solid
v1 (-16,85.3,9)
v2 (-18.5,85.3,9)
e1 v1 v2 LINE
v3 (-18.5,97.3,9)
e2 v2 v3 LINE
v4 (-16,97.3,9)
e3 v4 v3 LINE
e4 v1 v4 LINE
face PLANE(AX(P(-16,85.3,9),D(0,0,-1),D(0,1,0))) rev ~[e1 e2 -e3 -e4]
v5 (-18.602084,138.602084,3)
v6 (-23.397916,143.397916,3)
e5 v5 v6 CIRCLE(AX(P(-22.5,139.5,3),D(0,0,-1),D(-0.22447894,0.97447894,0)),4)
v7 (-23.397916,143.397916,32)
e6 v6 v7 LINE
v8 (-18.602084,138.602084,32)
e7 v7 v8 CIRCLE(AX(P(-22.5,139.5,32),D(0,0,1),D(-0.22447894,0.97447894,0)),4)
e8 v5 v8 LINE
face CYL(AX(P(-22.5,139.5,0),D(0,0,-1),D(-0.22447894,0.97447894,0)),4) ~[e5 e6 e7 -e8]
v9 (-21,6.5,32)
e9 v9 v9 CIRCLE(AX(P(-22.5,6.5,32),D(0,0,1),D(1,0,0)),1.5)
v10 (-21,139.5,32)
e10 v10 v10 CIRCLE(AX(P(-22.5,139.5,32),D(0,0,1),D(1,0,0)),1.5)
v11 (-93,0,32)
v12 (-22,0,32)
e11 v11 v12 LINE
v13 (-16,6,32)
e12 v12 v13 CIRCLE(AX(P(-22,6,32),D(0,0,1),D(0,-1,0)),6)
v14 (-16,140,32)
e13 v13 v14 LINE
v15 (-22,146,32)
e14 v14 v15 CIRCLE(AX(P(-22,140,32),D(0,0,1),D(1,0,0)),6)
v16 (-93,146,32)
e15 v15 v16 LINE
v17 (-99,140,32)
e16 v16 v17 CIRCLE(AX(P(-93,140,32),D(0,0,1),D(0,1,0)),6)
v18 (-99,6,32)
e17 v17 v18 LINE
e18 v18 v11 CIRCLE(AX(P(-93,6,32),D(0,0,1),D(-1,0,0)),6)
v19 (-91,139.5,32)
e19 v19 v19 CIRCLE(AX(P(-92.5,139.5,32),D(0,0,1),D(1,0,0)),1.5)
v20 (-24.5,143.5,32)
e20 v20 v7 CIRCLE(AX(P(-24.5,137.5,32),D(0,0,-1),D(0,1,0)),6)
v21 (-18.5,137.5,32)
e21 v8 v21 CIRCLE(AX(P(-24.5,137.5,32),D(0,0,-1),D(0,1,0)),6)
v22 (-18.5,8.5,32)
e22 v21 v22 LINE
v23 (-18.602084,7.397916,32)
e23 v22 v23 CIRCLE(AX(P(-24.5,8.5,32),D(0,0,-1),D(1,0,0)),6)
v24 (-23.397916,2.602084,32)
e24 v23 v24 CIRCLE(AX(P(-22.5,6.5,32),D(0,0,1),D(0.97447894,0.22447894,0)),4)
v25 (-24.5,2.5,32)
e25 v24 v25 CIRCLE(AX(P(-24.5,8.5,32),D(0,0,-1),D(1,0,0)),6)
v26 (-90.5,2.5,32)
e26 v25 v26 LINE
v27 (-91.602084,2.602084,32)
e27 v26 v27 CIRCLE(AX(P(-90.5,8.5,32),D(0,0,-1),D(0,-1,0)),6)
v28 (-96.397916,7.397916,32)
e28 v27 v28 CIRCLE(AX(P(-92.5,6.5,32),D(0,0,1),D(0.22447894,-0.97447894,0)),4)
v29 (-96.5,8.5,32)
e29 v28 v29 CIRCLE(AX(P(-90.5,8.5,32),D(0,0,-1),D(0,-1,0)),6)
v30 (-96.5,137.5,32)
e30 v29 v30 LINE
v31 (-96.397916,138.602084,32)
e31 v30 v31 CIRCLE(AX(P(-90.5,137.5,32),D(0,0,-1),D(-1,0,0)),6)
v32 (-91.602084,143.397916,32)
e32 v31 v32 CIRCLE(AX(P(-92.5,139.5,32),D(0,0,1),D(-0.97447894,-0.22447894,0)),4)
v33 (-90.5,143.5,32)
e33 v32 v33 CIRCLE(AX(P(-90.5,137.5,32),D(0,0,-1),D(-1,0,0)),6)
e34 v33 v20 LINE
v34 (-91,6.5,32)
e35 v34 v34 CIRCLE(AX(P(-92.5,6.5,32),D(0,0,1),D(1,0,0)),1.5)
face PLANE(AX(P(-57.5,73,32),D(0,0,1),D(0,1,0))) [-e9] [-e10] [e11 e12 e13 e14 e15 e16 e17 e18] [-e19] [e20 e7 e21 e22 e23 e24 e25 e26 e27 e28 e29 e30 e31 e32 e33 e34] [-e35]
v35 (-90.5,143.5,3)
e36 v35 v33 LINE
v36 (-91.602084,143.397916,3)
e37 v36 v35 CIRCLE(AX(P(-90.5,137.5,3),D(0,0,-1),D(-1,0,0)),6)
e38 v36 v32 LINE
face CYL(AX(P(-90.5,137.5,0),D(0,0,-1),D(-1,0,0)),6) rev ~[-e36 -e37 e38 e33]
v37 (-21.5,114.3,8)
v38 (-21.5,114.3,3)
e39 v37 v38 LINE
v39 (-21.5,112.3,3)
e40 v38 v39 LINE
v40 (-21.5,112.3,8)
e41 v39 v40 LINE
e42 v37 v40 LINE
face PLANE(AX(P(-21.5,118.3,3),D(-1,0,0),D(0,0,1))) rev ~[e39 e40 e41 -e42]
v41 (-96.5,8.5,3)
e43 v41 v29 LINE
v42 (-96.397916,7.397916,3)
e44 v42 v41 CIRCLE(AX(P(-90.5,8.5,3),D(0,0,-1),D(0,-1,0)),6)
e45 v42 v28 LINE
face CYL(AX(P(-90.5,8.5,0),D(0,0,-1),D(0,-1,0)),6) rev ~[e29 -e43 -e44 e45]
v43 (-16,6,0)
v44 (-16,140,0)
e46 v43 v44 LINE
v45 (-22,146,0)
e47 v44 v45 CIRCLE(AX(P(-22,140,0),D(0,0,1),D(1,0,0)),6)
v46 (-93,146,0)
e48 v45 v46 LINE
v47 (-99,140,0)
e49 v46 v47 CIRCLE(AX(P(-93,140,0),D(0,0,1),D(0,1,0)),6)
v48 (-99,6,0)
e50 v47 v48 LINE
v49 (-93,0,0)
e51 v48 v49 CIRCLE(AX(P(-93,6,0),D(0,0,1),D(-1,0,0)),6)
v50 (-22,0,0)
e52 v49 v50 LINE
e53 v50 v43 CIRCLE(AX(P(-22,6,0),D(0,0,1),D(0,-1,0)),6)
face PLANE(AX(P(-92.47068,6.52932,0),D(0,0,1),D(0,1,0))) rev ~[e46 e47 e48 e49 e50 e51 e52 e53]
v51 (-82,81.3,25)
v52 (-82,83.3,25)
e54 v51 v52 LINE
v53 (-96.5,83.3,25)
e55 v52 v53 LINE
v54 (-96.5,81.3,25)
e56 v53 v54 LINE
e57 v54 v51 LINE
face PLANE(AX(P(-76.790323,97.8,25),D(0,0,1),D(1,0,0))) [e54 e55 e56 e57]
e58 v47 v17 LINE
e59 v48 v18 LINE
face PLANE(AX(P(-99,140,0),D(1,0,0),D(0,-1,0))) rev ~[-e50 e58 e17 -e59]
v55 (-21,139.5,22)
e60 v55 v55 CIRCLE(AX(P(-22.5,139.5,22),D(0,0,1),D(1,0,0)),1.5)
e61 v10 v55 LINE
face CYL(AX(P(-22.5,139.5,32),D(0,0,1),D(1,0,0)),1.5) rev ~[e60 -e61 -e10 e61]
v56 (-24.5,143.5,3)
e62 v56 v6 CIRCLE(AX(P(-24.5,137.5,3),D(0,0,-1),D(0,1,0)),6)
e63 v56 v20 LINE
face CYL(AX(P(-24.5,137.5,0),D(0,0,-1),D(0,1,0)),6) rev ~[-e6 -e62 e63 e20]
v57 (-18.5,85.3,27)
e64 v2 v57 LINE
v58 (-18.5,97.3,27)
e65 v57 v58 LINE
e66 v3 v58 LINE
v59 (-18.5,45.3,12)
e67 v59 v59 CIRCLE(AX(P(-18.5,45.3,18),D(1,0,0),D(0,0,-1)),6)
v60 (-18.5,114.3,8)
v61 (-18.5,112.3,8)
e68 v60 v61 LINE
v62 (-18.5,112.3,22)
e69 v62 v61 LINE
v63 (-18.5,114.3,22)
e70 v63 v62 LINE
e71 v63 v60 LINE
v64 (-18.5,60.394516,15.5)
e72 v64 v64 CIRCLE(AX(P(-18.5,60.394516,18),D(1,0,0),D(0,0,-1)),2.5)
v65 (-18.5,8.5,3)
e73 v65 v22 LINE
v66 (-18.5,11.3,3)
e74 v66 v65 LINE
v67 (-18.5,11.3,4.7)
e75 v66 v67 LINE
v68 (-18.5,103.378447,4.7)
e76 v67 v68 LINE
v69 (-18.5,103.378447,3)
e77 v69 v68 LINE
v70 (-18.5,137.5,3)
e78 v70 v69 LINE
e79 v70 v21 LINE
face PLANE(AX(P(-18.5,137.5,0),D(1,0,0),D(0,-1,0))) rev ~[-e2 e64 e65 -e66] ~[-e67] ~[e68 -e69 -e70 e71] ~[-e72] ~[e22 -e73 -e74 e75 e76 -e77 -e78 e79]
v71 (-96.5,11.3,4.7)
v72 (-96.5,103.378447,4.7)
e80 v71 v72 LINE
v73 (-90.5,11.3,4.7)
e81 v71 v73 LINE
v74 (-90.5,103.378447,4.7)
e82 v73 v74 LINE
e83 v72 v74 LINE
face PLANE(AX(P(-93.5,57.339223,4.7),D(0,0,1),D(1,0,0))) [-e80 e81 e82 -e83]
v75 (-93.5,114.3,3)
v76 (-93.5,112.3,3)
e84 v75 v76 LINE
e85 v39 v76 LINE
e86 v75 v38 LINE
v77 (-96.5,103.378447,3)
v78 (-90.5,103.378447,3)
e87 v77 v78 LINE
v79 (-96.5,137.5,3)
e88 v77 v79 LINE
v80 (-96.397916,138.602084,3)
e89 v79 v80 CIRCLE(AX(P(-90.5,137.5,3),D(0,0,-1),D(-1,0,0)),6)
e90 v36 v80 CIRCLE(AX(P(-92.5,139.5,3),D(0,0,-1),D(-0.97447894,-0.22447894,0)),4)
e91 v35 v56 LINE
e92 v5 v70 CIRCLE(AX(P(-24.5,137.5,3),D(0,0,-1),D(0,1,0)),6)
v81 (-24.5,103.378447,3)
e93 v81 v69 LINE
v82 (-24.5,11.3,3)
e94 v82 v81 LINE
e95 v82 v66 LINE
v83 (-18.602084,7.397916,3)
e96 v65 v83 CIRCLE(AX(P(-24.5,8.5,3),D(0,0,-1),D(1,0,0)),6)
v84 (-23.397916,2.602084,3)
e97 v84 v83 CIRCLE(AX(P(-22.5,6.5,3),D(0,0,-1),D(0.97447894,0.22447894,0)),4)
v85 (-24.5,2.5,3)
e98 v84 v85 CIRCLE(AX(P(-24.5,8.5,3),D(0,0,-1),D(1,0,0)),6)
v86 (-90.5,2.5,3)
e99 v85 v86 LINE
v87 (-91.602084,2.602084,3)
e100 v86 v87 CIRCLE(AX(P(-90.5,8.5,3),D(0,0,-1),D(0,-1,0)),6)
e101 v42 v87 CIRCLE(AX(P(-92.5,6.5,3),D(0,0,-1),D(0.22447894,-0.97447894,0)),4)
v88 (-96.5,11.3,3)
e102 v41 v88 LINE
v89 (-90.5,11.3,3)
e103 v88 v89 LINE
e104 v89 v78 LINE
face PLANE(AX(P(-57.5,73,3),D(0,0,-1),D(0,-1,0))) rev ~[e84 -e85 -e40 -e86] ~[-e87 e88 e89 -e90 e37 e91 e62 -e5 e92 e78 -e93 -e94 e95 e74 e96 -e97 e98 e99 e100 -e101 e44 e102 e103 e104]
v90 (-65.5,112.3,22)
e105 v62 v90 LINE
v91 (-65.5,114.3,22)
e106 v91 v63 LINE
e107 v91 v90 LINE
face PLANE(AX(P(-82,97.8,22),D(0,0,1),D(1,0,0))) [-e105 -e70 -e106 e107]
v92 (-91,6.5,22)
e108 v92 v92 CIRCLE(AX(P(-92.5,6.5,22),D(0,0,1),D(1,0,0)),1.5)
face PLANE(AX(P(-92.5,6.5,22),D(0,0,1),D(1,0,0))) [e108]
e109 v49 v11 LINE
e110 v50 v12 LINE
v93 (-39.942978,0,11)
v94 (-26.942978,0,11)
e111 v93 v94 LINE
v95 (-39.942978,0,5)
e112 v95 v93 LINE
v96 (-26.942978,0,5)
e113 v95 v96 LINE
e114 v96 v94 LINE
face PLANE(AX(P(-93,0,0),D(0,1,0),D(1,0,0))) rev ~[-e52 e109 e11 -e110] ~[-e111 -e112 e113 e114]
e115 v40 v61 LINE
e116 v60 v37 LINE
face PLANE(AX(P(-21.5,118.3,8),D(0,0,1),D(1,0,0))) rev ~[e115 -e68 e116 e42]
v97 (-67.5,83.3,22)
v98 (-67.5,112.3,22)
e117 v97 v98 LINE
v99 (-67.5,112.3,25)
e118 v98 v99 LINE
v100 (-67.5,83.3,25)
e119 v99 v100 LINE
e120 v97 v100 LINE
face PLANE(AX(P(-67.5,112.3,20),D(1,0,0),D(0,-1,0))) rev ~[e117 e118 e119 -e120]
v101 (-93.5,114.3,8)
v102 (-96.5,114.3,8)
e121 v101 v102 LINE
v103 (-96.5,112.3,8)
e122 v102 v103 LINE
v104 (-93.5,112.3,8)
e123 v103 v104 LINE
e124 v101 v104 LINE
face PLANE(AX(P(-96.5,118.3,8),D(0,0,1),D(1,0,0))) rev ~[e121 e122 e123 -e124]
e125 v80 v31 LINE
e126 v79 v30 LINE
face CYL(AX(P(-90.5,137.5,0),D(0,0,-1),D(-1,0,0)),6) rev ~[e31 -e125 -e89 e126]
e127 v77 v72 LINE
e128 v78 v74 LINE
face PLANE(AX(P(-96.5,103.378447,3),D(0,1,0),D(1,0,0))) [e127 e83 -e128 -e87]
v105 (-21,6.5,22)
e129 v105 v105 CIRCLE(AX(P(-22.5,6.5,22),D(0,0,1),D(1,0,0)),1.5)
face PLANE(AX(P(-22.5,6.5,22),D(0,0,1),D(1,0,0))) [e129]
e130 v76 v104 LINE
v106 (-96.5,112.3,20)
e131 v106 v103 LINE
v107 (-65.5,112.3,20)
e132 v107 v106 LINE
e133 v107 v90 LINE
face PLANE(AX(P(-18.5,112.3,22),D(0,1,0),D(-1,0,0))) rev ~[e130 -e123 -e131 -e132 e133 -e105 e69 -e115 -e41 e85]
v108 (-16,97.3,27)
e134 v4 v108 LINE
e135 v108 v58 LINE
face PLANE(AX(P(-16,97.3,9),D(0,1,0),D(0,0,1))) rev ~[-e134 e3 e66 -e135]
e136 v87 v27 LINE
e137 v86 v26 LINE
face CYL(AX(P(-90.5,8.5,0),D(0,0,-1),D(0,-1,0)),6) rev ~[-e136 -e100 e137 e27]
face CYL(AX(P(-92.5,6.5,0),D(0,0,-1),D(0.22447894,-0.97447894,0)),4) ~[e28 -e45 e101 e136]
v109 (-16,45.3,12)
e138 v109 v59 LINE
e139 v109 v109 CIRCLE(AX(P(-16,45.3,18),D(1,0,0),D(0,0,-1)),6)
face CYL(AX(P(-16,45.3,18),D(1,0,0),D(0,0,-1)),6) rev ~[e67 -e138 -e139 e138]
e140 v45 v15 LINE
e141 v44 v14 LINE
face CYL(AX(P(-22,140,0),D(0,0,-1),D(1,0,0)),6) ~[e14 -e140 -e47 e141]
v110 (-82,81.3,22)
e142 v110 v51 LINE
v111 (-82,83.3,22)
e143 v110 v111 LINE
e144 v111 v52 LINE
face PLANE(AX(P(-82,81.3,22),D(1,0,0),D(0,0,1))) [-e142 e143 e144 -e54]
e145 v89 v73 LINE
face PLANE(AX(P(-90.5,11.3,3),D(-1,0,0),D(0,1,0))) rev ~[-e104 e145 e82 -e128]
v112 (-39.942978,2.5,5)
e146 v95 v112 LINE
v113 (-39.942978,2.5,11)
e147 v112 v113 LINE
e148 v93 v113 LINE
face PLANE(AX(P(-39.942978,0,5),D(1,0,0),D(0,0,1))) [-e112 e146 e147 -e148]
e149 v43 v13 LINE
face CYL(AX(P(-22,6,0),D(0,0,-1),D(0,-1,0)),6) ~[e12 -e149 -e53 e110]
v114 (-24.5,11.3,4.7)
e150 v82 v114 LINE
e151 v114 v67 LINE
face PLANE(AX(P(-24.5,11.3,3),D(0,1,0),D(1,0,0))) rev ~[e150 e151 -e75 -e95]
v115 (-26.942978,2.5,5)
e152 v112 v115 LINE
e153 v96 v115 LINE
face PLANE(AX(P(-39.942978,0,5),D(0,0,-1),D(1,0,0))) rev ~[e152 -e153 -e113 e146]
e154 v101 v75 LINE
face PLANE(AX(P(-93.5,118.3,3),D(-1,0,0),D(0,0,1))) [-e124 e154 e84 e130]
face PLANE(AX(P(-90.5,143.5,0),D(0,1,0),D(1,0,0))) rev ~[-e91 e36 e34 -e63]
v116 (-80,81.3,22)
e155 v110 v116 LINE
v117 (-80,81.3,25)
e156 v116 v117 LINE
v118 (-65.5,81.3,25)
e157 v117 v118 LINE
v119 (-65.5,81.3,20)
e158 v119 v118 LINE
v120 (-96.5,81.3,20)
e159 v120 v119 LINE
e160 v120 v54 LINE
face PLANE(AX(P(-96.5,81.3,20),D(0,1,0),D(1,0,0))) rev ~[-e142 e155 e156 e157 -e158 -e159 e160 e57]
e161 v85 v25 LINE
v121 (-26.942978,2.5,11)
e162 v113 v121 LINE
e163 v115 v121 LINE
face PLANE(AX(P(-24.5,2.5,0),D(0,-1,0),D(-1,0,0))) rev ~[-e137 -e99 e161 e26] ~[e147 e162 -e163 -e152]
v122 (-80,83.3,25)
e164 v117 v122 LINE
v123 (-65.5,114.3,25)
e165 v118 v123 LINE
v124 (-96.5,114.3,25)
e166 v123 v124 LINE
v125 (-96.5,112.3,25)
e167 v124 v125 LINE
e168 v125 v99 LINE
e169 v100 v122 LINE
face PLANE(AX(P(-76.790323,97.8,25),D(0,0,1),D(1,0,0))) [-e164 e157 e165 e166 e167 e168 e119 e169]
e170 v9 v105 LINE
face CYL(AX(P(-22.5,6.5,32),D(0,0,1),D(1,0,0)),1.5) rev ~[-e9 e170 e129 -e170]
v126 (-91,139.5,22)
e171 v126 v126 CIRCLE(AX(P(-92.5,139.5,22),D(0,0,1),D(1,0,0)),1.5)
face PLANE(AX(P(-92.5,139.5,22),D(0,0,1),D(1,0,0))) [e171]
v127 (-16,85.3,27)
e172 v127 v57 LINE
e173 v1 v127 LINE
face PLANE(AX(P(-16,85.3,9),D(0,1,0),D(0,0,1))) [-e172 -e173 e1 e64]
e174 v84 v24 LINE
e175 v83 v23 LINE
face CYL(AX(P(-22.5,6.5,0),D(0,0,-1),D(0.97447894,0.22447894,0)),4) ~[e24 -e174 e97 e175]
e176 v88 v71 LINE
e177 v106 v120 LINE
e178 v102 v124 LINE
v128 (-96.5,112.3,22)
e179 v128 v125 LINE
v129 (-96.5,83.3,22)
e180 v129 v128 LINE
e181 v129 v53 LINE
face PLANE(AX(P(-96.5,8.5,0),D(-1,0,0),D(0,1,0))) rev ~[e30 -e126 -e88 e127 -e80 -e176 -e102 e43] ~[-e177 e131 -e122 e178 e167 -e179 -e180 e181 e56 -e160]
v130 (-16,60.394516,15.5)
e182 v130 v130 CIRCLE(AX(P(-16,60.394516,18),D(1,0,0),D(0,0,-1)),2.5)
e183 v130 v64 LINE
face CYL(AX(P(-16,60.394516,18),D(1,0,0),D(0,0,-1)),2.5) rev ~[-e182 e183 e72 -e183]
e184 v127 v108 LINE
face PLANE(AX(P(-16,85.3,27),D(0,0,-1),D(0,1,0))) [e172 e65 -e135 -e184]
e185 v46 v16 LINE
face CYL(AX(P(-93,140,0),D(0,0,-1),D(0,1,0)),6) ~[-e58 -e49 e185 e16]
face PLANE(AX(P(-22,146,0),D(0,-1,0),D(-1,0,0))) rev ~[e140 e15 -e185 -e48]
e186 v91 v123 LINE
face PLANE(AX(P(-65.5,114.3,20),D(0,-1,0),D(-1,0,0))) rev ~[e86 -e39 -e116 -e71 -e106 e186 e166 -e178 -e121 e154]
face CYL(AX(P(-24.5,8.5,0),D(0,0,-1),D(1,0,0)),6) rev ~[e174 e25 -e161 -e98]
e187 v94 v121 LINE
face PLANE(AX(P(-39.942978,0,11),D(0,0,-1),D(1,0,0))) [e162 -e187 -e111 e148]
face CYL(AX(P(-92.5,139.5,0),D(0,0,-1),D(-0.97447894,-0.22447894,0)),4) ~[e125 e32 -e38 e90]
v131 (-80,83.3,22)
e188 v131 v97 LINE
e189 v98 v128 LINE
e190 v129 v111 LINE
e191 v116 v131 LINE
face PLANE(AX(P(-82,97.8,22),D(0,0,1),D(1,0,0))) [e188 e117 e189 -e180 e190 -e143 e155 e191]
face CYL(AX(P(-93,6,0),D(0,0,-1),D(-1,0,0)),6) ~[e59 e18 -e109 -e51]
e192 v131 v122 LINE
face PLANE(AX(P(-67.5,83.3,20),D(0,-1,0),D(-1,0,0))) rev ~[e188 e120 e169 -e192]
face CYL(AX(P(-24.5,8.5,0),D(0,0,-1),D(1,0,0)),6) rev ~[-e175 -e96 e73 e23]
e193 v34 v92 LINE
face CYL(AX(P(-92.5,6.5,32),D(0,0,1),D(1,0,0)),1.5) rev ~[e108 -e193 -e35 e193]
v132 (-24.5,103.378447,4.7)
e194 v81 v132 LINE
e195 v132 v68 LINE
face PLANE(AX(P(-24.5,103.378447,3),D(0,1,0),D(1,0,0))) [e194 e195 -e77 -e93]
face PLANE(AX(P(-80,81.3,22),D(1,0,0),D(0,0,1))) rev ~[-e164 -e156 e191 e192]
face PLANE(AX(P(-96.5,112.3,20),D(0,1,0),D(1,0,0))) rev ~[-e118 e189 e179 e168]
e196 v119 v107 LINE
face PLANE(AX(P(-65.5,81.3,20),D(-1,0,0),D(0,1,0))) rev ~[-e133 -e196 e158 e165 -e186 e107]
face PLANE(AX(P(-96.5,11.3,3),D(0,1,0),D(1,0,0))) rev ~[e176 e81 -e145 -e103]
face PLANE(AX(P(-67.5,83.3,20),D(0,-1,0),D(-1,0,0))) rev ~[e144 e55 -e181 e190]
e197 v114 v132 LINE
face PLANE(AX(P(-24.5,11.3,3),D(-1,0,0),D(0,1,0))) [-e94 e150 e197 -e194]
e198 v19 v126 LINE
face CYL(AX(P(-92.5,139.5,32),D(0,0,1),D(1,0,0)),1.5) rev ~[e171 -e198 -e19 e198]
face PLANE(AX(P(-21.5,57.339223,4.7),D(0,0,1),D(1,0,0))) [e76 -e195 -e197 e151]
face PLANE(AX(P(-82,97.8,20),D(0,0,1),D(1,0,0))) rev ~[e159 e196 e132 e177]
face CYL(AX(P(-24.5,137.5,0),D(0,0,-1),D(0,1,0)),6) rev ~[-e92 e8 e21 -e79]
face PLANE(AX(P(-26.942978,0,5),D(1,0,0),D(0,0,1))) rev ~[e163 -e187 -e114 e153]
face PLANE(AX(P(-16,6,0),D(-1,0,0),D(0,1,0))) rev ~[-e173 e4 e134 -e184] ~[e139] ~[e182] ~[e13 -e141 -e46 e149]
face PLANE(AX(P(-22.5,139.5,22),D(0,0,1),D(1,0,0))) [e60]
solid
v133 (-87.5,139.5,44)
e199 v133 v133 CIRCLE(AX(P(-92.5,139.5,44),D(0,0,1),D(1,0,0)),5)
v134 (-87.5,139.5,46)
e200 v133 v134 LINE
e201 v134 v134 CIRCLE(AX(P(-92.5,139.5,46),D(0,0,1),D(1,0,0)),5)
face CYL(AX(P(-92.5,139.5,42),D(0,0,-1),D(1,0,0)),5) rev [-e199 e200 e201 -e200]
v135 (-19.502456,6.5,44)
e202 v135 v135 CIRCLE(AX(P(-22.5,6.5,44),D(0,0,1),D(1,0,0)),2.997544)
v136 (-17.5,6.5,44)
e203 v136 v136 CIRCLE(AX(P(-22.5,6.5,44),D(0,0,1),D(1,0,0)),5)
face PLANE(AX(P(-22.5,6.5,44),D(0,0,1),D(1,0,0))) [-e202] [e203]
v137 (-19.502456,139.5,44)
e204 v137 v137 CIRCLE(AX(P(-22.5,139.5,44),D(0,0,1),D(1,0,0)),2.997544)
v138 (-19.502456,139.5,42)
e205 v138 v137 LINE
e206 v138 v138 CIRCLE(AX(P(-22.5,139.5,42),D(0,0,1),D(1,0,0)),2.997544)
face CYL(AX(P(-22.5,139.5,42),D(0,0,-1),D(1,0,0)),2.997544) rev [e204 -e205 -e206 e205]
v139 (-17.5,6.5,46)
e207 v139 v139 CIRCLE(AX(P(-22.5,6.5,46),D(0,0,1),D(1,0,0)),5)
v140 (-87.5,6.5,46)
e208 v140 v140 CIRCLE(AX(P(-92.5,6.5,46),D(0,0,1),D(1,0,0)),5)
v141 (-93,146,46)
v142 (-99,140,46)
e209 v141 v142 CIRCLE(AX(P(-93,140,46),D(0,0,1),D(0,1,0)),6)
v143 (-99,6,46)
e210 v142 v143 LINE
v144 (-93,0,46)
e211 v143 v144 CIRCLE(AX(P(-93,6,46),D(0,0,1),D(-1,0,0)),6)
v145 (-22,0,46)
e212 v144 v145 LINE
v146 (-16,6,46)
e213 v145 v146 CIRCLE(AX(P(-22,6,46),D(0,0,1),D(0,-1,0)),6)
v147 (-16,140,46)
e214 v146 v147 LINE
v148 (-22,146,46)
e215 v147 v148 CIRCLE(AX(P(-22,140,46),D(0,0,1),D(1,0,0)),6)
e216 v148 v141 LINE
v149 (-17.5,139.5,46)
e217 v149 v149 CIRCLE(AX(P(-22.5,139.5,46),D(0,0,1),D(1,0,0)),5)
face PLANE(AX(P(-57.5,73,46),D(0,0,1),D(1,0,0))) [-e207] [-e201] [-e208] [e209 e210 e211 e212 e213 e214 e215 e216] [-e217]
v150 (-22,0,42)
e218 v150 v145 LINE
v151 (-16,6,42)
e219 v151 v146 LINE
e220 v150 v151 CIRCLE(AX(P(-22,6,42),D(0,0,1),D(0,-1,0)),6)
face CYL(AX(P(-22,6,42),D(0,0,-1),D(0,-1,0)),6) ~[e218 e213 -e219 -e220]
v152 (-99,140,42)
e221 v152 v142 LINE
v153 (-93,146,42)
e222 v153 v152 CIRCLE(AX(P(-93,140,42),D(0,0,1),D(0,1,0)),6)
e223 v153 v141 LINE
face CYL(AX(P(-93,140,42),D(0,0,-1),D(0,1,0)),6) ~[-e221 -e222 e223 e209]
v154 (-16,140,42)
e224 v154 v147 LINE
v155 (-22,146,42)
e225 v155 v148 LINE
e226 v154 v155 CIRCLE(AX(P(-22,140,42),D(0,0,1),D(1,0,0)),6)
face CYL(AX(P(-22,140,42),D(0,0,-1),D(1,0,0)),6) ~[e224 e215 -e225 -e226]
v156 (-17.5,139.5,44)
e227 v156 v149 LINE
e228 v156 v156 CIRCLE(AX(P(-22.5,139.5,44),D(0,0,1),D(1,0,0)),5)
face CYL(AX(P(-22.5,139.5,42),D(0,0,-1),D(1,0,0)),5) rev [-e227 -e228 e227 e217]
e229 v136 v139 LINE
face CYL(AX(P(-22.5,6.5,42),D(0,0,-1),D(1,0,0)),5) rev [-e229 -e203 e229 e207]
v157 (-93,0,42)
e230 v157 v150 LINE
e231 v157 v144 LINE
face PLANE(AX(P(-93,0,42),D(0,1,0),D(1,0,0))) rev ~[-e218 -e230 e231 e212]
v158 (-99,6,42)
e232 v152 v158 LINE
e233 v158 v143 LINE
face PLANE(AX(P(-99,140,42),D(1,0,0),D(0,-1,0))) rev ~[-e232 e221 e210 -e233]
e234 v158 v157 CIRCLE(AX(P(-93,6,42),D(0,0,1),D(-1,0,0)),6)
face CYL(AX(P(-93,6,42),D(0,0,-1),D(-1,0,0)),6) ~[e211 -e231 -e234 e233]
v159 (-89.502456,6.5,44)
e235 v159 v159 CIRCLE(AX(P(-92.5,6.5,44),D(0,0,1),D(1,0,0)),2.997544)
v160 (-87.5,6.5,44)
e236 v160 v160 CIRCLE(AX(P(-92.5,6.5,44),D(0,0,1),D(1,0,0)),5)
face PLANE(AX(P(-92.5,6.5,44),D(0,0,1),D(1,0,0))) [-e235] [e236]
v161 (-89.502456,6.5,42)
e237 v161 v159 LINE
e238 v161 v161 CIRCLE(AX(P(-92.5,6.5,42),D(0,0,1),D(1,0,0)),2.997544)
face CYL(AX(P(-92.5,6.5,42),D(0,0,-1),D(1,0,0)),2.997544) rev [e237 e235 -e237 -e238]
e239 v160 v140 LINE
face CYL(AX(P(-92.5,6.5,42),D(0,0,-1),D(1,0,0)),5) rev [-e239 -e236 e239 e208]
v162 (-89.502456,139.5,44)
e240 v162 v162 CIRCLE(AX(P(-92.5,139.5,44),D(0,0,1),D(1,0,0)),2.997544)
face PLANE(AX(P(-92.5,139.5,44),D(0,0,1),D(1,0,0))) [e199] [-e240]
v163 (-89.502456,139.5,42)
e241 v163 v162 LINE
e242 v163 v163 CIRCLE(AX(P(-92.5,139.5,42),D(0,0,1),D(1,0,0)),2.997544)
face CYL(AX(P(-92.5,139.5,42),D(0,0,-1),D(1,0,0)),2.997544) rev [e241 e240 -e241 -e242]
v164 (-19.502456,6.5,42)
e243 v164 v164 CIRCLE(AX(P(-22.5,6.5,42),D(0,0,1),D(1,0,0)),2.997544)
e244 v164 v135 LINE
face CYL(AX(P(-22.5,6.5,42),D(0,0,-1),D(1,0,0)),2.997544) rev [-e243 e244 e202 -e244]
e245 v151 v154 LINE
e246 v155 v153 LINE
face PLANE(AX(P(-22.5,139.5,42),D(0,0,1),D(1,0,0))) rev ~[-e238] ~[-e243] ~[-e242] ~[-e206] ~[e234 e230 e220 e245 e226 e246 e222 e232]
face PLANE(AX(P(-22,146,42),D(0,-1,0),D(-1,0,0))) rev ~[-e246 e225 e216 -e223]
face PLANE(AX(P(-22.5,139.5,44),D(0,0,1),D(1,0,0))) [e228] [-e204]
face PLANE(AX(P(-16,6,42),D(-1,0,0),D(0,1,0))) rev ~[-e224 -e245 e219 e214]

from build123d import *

# Parameters (mm, degrees)
BOX_BASE_DEPTH              = 3
BOX_WALLS_DEPTH             = 32
SCREW_PLATFORMS_DEPTH       = 32
BATTERY_START               = 10
BATTERY_COMPARTMENT_DEPTH   = 19
CUT_EXTRUDE1_DEPTH          = 3
CUT_EXTRUDE1_DEPTH_BACK     = 6
SKETCH5_W                   = 3
SKETCH5_H                   = 5
BOX_START                   = 10
SKETCH6_R                   = 5
BOX_COVER_DEPTH             = 4
BOSS_EXTRUDE11_START        = 10
SKETCH6_3_R                 = 5
SKETCH6_3_R_2               = 2.99754368
BOSS_EXTRUDE11_DEPTH        = 2
SKETCH8_W                   = 6
SKETCH8_H                   = 92.078446576
REST_PLATFORM_DEPTH         = 1.7
SKETCH9_R                   = 6
SKETCH9_R_2                 = 2.5
SKETCH9_W                   = 12
SKETCH9_H                   = 18
BUTTTON_HOLES_DEPTH         = 4
SKETCH10_W                  = 13
SKETCH10_H                  = 6
FAKE_USB_DEPTH              = 4
GPS_START                   = -10
SKETCH11_W                  = 29
SKETCH11_H                  = 29
GPS_ANTENNA_BOX_DEPTH       = 2
GPS_START_2                 = -12
GPS_ANTENNA_BOX_WALLS_DEPTH = 5
SKETCH12_W                  = 2
SKETCH12_H                  = 3
CUT_EXTRUDE4_DEPTH          = 4
SKETCH6_4_R                 = 1.5
CUT_EXTRUDE5_DEPTH          = 10


with BuildPart() as part:
    # Sketch2 → box base (new body)
    with BuildSketch(Plane(origin=(0, 0, 0), x_dir=(0, 1, 0), z_dir=(0, 0, 1))):
        with BuildLine():
            Line((2.5, 24.5), (2.5, 90.5))
            ThreePointArc((2.5, 90.5), (4.257359313, 94.742640687), (8.5, 96.5))
            Line((8.5, 96.5), (137.5, 96.5))
            ThreePointArc((137.5, 96.5), (141.742640687, 94.742640687), (143.5, 90.5))
            Line((143.5, 90.5), (143.5, 24.5))
            ThreePointArc((143.5, 24.5), (141.742640687, 20.257359313), (137.5, 18.5))
            Line((137.5, 18.5), (8.5, 18.5))
            ThreePointArc((8.5, 18.5), (4.257359313, 20.257359313), (2.5, 24.5))
        make_face()
    extrude(amount=BOX_BASE_DEPTH)

    # Sketch2<3> → box walls (add)
    with BuildSketch(Plane(origin=(0, 0, 0), x_dir=(0, 1, 0), z_dir=(0, 0, 1))):
        with BuildLine():
            Line((6, 16), (140, 16))
            ThreePointArc((140, 16), (144.242640687, 17.757359313), (146, 22))
            Line((146, 22), (146, 93))
            ThreePointArc((146, 93), (144.242640687, 97.242640687), (140, 99))
            Line((140, 99), (6, 99))
            ThreePointArc((6, 99), (1.757359313, 97.242640687), (0, 93))
            Line((0, 93), (0, 22))
            ThreePointArc((0, 22), (1.757359313, 17.757359313), (6, 16))
        make_face()
        with BuildLine():
            Line((2.5, 24.5), (2.5, 90.5))
            ThreePointArc((2.5, 90.5), (4.257359313, 94.742640687), (8.5, 96.5))
            Line((8.5, 96.5), (137.5, 96.5))
            ThreePointArc((137.5, 96.5), (141.742640687, 94.742640687), (143.5, 90.5))
            Line((143.5, 90.5), (143.5, 24.5))
            ThreePointArc((143.5, 24.5), (141.742640687, 20.257359313), (137.5, 18.5))
            Line((137.5, 18.5), (8.5, 18.5))
            ThreePointArc((8.5, 18.5), (4.257359313, 20.257359313), (2.5, 24.5))
        make_face(mode=Mode.SUBTRACT)
    extrude(amount=BOX_WALLS_DEPTH)

    # Sketch2<4> → screw platforms (add)
    with BuildSketch(Plane(origin=(0, 0, 0), x_dir=(0, 1, 0), z_dir=(0, 0, 1))):
        with BuildLine():
            ThreePointArc((7.397915762, 96.397915762), (4.257359313, 94.742640687), (2.602084238, 91.602084238))
            ThreePointArc((2.602084238, 91.602084238), (9.328427125, 89.671572875), (7.397915762, 96.397915762))
        make_face()
        with BuildLine():
            ThreePointArc((7.397915762, 18.602084238), (9.328427125, 25.328427125), (2.602084238, 23.397915762))
            ThreePointArc((2.602084238, 23.397915762), (4.257359313, 20.257359313), (7.397915762, 18.602084238))
        make_face()
        with BuildLine():
            ThreePointArc((143.397915762, 91.602084238), (141.742640687, 94.742640687), (138.602084238, 96.397915762))
            ThreePointArc((138.602084238, 96.397915762), (136.671572875, 89.671572875), (143.397915762, 91.602084238))
        make_face()
        with BuildLine():
            ThreePointArc((143.397915762, 23.397915762), (136.671572875, 25.328427125), (138.602084238, 18.602084238))
            ThreePointArc((138.602084238, 18.602084238), (141.742640687, 20.257359313), (143.397915762, 23.397915762))
        make_face()
    extrude(amount=SCREW_PLATFORMS_DEPTH)

    # Sketch3 → battery compartment (add)
    with BuildSketch(Plane(origin=(-67, 0, 32), x_dir=(0, -1, 0), z_dir=(0, 0, -1)).offset(BATTERY_START)):
        Polygon((-114.3, -45.238614765), (-114.3, -48.5), (-112.3, -48.5), (-112.3, 29.5), (-114.3, 29.5), align=None)
    extrude(amount=BATTERY_COMPARTMENT_DEPTH)

    # Sketch5 → Cut-Extrude1 (cut, two sides: drawn at the far end of the back side and taken through both)
    with BuildSketch(Plane.XZ.offset(-112.3).offset(-CUT_EXTRUDE1_DEPTH_BACK)):
        with Locations((-95, 5.5)):
            Rectangle(SKETCH5_W, SKETCH5_H)
        with Locations((-20, 5.5)):
            Rectangle(SKETCH5_W, SKETCH5_H)
    extrude(amount=CUT_EXTRUDE1_DEPTH + CUT_EXTRUDE1_DEPTH_BACK, mode=Mode.SUBTRACT)

    # Sketch8 → rest platform (add)
    with BuildSketch(Plane.XY.offset(3)):
        with Locations((-21.5, 57.339223288)):
            Rectangle(SKETCH8_W, SKETCH8_H)
        with Locations((-93.5, 57.339223288)):
            Rectangle(SKETCH8_W, SKETCH8_H)
    extrude(amount=REST_PLATFORM_DEPTH)

    # Sketch9 → buttton holes (cut)
    with BuildSketch(Plane.YZ.offset(-16)):
        with Locations(Location((45.3, 18, 0), (0, 0, 270))):
            Circle(SKETCH9_R)
        with Locations(Location((60.394515887, 18, 0), (0, 0, 270))):
            Circle(SKETCH9_R_2)
        with Locations((91.3, 18)):
            Rectangle(SKETCH9_W, SKETCH9_H)
    extrude(amount=-BUTTTON_HOLES_DEPTH, mode=Mode.SUBTRACT)

    # Sketch10 → fake usb (cut)
    with BuildSketch(Plane.XZ):
        with Locations((-33.442978121, 8)):
            Rectangle(SKETCH10_W, SKETCH10_H)
    extrude(amount=-FAKE_USB_DEPTH, mode=Mode.SUBTRACT)

    # Sketch11 → gps antenna box (add)
    with BuildSketch(Plane.XY.offset(32).offset(GPS_START)):
        with Locations((-82, 97.8)):
            Rectangle(SKETCH11_W, SKETCH11_H)
    extrude(amount=-GPS_ANTENNA_BOX_DEPTH)

    # Sketch11<4> → gps antenna box walls (add)
    with BuildSketch(Plane.XY.offset(32).offset(GPS_START_2)):
        Polygon((-96.5, 114.3), (-96.5, 112.3), (-67.5, 112.3), (-67.5, 83.3), (-96.5, 83.3), (-96.5, 81.3), (-65.5, 81.3), (-65.5, 112.3), (-65.5, 114.3), (-67.5, 114.3), align=None)
    extrude(amount=GPS_ANTENNA_BOX_WALLS_DEPTH)

    # Sketch12 → Cut-Extrude4 (cut)
    with BuildSketch(Plane.XZ.offset(-81.3)):
        with Locations((-81, 23.5)):
            Rectangle(SKETCH12_W, SKETCH12_H)
    extrude(amount=-CUT_EXTRUDE4_DEPTH, mode=Mode.SUBTRACT)

    # Sketch6<4> → Cut-Extrude5 (cut)
    with BuildSketch(Plane.XY.offset(32)):
        with Locations((-92.5, 139.5)):
            Circle(SKETCH6_4_R)
        with Locations((-22.5, 139.5)):
            Circle(SKETCH6_4_R)
        with Locations((-22.5, 6.5)):
            Circle(SKETCH6_4_R)
        with Locations((-92.5, 6.5)):
            Circle(SKETCH6_4_R)
    extrude(amount=-CUT_EXTRUDE5_DEPTH, mode=Mode.SUBTRACT)


with BuildPart() as body_2:
    # Sketch6 → box cover (new body)
    with BuildSketch(Plane.XY.offset(32).offset(BOX_START)):
        with BuildLine():
            Line((-16, 6), (-16, 140))
            ThreePointArc((-16, 140), (-17.757359313, 144.242640687), (-22, 146))
            Line((-22, 146), (-93, 146))
            ThreePointArc((-93, 146), (-97.242640687, 144.242640687), (-99, 140))
            Line((-99, 140), (-99, 6))
            ThreePointArc((-99, 6), (-97.242640687, 1.757359313), (-93, 0))
            Line((-93, 0), (-22, 0))
            ThreePointArc((-22, 0), (-17.757359313, 1.757359313), (-16, 6))
        make_face()
        with Locations((-92.5, 139.5)):
            Circle(SKETCH6_R, mode=Mode.SUBTRACT)
        with Locations((-22.5, 139.5)):
            Circle(SKETCH6_R, mode=Mode.SUBTRACT)
        with Locations((-22.5, 6.5)):
            Circle(SKETCH6_R, mode=Mode.SUBTRACT)
        with Locations((-92.5, 6.5)):
            Circle(SKETCH6_R, mode=Mode.SUBTRACT)
    extrude(amount=BOX_COVER_DEPTH)

    # Sketch6<3> → Boss-Extrude11 (add)
    # profile 1 of 4: a face of its own
    with BuildSketch(Plane.XY.offset(32).offset(BOSS_EXTRUDE11_START)):
        with Locations((-22.5, 139.5)):
            Circle(SKETCH6_3_R)
        with Locations((-22.5, 139.5)):
            Circle(SKETCH6_3_R_2, mode=Mode.SUBTRACT)
    # profile 2 of 4: a face of its own
    with BuildSketch(Plane.XY.offset(32).offset(BOSS_EXTRUDE11_START)):
        with Locations((-92.5, 139.5)):
            Circle(SKETCH6_3_R)
        with Locations((-92.5, 139.5)):
            Circle(SKETCH6_3_R_2, mode=Mode.SUBTRACT)
    # profile 3 of 4: a face of its own
    with BuildSketch(Plane.XY.offset(32).offset(BOSS_EXTRUDE11_START)):
        with Locations((-22.5, 6.5)):
            Circle(SKETCH6_3_R)
        with Locations((-22.5, 6.5)):
            Circle(SKETCH6_3_R_2, mode=Mode.SUBTRACT)
    # profile 4 of 4: a face of its own
    with BuildSketch(Plane.XY.offset(32).offset(BOSS_EXTRUDE11_START)):
        with Locations((-92.5, 6.5)):
            Circle(SKETCH6_3_R)
        with Locations((-92.5, 6.5)):
            Circle(SKETCH6_3_R_2, mode=Mode.SUBTRACT)
    extrude(amount=BOSS_EXTRUDE11_DEPTH)


solid = Compound([part.part, body_2.part])
